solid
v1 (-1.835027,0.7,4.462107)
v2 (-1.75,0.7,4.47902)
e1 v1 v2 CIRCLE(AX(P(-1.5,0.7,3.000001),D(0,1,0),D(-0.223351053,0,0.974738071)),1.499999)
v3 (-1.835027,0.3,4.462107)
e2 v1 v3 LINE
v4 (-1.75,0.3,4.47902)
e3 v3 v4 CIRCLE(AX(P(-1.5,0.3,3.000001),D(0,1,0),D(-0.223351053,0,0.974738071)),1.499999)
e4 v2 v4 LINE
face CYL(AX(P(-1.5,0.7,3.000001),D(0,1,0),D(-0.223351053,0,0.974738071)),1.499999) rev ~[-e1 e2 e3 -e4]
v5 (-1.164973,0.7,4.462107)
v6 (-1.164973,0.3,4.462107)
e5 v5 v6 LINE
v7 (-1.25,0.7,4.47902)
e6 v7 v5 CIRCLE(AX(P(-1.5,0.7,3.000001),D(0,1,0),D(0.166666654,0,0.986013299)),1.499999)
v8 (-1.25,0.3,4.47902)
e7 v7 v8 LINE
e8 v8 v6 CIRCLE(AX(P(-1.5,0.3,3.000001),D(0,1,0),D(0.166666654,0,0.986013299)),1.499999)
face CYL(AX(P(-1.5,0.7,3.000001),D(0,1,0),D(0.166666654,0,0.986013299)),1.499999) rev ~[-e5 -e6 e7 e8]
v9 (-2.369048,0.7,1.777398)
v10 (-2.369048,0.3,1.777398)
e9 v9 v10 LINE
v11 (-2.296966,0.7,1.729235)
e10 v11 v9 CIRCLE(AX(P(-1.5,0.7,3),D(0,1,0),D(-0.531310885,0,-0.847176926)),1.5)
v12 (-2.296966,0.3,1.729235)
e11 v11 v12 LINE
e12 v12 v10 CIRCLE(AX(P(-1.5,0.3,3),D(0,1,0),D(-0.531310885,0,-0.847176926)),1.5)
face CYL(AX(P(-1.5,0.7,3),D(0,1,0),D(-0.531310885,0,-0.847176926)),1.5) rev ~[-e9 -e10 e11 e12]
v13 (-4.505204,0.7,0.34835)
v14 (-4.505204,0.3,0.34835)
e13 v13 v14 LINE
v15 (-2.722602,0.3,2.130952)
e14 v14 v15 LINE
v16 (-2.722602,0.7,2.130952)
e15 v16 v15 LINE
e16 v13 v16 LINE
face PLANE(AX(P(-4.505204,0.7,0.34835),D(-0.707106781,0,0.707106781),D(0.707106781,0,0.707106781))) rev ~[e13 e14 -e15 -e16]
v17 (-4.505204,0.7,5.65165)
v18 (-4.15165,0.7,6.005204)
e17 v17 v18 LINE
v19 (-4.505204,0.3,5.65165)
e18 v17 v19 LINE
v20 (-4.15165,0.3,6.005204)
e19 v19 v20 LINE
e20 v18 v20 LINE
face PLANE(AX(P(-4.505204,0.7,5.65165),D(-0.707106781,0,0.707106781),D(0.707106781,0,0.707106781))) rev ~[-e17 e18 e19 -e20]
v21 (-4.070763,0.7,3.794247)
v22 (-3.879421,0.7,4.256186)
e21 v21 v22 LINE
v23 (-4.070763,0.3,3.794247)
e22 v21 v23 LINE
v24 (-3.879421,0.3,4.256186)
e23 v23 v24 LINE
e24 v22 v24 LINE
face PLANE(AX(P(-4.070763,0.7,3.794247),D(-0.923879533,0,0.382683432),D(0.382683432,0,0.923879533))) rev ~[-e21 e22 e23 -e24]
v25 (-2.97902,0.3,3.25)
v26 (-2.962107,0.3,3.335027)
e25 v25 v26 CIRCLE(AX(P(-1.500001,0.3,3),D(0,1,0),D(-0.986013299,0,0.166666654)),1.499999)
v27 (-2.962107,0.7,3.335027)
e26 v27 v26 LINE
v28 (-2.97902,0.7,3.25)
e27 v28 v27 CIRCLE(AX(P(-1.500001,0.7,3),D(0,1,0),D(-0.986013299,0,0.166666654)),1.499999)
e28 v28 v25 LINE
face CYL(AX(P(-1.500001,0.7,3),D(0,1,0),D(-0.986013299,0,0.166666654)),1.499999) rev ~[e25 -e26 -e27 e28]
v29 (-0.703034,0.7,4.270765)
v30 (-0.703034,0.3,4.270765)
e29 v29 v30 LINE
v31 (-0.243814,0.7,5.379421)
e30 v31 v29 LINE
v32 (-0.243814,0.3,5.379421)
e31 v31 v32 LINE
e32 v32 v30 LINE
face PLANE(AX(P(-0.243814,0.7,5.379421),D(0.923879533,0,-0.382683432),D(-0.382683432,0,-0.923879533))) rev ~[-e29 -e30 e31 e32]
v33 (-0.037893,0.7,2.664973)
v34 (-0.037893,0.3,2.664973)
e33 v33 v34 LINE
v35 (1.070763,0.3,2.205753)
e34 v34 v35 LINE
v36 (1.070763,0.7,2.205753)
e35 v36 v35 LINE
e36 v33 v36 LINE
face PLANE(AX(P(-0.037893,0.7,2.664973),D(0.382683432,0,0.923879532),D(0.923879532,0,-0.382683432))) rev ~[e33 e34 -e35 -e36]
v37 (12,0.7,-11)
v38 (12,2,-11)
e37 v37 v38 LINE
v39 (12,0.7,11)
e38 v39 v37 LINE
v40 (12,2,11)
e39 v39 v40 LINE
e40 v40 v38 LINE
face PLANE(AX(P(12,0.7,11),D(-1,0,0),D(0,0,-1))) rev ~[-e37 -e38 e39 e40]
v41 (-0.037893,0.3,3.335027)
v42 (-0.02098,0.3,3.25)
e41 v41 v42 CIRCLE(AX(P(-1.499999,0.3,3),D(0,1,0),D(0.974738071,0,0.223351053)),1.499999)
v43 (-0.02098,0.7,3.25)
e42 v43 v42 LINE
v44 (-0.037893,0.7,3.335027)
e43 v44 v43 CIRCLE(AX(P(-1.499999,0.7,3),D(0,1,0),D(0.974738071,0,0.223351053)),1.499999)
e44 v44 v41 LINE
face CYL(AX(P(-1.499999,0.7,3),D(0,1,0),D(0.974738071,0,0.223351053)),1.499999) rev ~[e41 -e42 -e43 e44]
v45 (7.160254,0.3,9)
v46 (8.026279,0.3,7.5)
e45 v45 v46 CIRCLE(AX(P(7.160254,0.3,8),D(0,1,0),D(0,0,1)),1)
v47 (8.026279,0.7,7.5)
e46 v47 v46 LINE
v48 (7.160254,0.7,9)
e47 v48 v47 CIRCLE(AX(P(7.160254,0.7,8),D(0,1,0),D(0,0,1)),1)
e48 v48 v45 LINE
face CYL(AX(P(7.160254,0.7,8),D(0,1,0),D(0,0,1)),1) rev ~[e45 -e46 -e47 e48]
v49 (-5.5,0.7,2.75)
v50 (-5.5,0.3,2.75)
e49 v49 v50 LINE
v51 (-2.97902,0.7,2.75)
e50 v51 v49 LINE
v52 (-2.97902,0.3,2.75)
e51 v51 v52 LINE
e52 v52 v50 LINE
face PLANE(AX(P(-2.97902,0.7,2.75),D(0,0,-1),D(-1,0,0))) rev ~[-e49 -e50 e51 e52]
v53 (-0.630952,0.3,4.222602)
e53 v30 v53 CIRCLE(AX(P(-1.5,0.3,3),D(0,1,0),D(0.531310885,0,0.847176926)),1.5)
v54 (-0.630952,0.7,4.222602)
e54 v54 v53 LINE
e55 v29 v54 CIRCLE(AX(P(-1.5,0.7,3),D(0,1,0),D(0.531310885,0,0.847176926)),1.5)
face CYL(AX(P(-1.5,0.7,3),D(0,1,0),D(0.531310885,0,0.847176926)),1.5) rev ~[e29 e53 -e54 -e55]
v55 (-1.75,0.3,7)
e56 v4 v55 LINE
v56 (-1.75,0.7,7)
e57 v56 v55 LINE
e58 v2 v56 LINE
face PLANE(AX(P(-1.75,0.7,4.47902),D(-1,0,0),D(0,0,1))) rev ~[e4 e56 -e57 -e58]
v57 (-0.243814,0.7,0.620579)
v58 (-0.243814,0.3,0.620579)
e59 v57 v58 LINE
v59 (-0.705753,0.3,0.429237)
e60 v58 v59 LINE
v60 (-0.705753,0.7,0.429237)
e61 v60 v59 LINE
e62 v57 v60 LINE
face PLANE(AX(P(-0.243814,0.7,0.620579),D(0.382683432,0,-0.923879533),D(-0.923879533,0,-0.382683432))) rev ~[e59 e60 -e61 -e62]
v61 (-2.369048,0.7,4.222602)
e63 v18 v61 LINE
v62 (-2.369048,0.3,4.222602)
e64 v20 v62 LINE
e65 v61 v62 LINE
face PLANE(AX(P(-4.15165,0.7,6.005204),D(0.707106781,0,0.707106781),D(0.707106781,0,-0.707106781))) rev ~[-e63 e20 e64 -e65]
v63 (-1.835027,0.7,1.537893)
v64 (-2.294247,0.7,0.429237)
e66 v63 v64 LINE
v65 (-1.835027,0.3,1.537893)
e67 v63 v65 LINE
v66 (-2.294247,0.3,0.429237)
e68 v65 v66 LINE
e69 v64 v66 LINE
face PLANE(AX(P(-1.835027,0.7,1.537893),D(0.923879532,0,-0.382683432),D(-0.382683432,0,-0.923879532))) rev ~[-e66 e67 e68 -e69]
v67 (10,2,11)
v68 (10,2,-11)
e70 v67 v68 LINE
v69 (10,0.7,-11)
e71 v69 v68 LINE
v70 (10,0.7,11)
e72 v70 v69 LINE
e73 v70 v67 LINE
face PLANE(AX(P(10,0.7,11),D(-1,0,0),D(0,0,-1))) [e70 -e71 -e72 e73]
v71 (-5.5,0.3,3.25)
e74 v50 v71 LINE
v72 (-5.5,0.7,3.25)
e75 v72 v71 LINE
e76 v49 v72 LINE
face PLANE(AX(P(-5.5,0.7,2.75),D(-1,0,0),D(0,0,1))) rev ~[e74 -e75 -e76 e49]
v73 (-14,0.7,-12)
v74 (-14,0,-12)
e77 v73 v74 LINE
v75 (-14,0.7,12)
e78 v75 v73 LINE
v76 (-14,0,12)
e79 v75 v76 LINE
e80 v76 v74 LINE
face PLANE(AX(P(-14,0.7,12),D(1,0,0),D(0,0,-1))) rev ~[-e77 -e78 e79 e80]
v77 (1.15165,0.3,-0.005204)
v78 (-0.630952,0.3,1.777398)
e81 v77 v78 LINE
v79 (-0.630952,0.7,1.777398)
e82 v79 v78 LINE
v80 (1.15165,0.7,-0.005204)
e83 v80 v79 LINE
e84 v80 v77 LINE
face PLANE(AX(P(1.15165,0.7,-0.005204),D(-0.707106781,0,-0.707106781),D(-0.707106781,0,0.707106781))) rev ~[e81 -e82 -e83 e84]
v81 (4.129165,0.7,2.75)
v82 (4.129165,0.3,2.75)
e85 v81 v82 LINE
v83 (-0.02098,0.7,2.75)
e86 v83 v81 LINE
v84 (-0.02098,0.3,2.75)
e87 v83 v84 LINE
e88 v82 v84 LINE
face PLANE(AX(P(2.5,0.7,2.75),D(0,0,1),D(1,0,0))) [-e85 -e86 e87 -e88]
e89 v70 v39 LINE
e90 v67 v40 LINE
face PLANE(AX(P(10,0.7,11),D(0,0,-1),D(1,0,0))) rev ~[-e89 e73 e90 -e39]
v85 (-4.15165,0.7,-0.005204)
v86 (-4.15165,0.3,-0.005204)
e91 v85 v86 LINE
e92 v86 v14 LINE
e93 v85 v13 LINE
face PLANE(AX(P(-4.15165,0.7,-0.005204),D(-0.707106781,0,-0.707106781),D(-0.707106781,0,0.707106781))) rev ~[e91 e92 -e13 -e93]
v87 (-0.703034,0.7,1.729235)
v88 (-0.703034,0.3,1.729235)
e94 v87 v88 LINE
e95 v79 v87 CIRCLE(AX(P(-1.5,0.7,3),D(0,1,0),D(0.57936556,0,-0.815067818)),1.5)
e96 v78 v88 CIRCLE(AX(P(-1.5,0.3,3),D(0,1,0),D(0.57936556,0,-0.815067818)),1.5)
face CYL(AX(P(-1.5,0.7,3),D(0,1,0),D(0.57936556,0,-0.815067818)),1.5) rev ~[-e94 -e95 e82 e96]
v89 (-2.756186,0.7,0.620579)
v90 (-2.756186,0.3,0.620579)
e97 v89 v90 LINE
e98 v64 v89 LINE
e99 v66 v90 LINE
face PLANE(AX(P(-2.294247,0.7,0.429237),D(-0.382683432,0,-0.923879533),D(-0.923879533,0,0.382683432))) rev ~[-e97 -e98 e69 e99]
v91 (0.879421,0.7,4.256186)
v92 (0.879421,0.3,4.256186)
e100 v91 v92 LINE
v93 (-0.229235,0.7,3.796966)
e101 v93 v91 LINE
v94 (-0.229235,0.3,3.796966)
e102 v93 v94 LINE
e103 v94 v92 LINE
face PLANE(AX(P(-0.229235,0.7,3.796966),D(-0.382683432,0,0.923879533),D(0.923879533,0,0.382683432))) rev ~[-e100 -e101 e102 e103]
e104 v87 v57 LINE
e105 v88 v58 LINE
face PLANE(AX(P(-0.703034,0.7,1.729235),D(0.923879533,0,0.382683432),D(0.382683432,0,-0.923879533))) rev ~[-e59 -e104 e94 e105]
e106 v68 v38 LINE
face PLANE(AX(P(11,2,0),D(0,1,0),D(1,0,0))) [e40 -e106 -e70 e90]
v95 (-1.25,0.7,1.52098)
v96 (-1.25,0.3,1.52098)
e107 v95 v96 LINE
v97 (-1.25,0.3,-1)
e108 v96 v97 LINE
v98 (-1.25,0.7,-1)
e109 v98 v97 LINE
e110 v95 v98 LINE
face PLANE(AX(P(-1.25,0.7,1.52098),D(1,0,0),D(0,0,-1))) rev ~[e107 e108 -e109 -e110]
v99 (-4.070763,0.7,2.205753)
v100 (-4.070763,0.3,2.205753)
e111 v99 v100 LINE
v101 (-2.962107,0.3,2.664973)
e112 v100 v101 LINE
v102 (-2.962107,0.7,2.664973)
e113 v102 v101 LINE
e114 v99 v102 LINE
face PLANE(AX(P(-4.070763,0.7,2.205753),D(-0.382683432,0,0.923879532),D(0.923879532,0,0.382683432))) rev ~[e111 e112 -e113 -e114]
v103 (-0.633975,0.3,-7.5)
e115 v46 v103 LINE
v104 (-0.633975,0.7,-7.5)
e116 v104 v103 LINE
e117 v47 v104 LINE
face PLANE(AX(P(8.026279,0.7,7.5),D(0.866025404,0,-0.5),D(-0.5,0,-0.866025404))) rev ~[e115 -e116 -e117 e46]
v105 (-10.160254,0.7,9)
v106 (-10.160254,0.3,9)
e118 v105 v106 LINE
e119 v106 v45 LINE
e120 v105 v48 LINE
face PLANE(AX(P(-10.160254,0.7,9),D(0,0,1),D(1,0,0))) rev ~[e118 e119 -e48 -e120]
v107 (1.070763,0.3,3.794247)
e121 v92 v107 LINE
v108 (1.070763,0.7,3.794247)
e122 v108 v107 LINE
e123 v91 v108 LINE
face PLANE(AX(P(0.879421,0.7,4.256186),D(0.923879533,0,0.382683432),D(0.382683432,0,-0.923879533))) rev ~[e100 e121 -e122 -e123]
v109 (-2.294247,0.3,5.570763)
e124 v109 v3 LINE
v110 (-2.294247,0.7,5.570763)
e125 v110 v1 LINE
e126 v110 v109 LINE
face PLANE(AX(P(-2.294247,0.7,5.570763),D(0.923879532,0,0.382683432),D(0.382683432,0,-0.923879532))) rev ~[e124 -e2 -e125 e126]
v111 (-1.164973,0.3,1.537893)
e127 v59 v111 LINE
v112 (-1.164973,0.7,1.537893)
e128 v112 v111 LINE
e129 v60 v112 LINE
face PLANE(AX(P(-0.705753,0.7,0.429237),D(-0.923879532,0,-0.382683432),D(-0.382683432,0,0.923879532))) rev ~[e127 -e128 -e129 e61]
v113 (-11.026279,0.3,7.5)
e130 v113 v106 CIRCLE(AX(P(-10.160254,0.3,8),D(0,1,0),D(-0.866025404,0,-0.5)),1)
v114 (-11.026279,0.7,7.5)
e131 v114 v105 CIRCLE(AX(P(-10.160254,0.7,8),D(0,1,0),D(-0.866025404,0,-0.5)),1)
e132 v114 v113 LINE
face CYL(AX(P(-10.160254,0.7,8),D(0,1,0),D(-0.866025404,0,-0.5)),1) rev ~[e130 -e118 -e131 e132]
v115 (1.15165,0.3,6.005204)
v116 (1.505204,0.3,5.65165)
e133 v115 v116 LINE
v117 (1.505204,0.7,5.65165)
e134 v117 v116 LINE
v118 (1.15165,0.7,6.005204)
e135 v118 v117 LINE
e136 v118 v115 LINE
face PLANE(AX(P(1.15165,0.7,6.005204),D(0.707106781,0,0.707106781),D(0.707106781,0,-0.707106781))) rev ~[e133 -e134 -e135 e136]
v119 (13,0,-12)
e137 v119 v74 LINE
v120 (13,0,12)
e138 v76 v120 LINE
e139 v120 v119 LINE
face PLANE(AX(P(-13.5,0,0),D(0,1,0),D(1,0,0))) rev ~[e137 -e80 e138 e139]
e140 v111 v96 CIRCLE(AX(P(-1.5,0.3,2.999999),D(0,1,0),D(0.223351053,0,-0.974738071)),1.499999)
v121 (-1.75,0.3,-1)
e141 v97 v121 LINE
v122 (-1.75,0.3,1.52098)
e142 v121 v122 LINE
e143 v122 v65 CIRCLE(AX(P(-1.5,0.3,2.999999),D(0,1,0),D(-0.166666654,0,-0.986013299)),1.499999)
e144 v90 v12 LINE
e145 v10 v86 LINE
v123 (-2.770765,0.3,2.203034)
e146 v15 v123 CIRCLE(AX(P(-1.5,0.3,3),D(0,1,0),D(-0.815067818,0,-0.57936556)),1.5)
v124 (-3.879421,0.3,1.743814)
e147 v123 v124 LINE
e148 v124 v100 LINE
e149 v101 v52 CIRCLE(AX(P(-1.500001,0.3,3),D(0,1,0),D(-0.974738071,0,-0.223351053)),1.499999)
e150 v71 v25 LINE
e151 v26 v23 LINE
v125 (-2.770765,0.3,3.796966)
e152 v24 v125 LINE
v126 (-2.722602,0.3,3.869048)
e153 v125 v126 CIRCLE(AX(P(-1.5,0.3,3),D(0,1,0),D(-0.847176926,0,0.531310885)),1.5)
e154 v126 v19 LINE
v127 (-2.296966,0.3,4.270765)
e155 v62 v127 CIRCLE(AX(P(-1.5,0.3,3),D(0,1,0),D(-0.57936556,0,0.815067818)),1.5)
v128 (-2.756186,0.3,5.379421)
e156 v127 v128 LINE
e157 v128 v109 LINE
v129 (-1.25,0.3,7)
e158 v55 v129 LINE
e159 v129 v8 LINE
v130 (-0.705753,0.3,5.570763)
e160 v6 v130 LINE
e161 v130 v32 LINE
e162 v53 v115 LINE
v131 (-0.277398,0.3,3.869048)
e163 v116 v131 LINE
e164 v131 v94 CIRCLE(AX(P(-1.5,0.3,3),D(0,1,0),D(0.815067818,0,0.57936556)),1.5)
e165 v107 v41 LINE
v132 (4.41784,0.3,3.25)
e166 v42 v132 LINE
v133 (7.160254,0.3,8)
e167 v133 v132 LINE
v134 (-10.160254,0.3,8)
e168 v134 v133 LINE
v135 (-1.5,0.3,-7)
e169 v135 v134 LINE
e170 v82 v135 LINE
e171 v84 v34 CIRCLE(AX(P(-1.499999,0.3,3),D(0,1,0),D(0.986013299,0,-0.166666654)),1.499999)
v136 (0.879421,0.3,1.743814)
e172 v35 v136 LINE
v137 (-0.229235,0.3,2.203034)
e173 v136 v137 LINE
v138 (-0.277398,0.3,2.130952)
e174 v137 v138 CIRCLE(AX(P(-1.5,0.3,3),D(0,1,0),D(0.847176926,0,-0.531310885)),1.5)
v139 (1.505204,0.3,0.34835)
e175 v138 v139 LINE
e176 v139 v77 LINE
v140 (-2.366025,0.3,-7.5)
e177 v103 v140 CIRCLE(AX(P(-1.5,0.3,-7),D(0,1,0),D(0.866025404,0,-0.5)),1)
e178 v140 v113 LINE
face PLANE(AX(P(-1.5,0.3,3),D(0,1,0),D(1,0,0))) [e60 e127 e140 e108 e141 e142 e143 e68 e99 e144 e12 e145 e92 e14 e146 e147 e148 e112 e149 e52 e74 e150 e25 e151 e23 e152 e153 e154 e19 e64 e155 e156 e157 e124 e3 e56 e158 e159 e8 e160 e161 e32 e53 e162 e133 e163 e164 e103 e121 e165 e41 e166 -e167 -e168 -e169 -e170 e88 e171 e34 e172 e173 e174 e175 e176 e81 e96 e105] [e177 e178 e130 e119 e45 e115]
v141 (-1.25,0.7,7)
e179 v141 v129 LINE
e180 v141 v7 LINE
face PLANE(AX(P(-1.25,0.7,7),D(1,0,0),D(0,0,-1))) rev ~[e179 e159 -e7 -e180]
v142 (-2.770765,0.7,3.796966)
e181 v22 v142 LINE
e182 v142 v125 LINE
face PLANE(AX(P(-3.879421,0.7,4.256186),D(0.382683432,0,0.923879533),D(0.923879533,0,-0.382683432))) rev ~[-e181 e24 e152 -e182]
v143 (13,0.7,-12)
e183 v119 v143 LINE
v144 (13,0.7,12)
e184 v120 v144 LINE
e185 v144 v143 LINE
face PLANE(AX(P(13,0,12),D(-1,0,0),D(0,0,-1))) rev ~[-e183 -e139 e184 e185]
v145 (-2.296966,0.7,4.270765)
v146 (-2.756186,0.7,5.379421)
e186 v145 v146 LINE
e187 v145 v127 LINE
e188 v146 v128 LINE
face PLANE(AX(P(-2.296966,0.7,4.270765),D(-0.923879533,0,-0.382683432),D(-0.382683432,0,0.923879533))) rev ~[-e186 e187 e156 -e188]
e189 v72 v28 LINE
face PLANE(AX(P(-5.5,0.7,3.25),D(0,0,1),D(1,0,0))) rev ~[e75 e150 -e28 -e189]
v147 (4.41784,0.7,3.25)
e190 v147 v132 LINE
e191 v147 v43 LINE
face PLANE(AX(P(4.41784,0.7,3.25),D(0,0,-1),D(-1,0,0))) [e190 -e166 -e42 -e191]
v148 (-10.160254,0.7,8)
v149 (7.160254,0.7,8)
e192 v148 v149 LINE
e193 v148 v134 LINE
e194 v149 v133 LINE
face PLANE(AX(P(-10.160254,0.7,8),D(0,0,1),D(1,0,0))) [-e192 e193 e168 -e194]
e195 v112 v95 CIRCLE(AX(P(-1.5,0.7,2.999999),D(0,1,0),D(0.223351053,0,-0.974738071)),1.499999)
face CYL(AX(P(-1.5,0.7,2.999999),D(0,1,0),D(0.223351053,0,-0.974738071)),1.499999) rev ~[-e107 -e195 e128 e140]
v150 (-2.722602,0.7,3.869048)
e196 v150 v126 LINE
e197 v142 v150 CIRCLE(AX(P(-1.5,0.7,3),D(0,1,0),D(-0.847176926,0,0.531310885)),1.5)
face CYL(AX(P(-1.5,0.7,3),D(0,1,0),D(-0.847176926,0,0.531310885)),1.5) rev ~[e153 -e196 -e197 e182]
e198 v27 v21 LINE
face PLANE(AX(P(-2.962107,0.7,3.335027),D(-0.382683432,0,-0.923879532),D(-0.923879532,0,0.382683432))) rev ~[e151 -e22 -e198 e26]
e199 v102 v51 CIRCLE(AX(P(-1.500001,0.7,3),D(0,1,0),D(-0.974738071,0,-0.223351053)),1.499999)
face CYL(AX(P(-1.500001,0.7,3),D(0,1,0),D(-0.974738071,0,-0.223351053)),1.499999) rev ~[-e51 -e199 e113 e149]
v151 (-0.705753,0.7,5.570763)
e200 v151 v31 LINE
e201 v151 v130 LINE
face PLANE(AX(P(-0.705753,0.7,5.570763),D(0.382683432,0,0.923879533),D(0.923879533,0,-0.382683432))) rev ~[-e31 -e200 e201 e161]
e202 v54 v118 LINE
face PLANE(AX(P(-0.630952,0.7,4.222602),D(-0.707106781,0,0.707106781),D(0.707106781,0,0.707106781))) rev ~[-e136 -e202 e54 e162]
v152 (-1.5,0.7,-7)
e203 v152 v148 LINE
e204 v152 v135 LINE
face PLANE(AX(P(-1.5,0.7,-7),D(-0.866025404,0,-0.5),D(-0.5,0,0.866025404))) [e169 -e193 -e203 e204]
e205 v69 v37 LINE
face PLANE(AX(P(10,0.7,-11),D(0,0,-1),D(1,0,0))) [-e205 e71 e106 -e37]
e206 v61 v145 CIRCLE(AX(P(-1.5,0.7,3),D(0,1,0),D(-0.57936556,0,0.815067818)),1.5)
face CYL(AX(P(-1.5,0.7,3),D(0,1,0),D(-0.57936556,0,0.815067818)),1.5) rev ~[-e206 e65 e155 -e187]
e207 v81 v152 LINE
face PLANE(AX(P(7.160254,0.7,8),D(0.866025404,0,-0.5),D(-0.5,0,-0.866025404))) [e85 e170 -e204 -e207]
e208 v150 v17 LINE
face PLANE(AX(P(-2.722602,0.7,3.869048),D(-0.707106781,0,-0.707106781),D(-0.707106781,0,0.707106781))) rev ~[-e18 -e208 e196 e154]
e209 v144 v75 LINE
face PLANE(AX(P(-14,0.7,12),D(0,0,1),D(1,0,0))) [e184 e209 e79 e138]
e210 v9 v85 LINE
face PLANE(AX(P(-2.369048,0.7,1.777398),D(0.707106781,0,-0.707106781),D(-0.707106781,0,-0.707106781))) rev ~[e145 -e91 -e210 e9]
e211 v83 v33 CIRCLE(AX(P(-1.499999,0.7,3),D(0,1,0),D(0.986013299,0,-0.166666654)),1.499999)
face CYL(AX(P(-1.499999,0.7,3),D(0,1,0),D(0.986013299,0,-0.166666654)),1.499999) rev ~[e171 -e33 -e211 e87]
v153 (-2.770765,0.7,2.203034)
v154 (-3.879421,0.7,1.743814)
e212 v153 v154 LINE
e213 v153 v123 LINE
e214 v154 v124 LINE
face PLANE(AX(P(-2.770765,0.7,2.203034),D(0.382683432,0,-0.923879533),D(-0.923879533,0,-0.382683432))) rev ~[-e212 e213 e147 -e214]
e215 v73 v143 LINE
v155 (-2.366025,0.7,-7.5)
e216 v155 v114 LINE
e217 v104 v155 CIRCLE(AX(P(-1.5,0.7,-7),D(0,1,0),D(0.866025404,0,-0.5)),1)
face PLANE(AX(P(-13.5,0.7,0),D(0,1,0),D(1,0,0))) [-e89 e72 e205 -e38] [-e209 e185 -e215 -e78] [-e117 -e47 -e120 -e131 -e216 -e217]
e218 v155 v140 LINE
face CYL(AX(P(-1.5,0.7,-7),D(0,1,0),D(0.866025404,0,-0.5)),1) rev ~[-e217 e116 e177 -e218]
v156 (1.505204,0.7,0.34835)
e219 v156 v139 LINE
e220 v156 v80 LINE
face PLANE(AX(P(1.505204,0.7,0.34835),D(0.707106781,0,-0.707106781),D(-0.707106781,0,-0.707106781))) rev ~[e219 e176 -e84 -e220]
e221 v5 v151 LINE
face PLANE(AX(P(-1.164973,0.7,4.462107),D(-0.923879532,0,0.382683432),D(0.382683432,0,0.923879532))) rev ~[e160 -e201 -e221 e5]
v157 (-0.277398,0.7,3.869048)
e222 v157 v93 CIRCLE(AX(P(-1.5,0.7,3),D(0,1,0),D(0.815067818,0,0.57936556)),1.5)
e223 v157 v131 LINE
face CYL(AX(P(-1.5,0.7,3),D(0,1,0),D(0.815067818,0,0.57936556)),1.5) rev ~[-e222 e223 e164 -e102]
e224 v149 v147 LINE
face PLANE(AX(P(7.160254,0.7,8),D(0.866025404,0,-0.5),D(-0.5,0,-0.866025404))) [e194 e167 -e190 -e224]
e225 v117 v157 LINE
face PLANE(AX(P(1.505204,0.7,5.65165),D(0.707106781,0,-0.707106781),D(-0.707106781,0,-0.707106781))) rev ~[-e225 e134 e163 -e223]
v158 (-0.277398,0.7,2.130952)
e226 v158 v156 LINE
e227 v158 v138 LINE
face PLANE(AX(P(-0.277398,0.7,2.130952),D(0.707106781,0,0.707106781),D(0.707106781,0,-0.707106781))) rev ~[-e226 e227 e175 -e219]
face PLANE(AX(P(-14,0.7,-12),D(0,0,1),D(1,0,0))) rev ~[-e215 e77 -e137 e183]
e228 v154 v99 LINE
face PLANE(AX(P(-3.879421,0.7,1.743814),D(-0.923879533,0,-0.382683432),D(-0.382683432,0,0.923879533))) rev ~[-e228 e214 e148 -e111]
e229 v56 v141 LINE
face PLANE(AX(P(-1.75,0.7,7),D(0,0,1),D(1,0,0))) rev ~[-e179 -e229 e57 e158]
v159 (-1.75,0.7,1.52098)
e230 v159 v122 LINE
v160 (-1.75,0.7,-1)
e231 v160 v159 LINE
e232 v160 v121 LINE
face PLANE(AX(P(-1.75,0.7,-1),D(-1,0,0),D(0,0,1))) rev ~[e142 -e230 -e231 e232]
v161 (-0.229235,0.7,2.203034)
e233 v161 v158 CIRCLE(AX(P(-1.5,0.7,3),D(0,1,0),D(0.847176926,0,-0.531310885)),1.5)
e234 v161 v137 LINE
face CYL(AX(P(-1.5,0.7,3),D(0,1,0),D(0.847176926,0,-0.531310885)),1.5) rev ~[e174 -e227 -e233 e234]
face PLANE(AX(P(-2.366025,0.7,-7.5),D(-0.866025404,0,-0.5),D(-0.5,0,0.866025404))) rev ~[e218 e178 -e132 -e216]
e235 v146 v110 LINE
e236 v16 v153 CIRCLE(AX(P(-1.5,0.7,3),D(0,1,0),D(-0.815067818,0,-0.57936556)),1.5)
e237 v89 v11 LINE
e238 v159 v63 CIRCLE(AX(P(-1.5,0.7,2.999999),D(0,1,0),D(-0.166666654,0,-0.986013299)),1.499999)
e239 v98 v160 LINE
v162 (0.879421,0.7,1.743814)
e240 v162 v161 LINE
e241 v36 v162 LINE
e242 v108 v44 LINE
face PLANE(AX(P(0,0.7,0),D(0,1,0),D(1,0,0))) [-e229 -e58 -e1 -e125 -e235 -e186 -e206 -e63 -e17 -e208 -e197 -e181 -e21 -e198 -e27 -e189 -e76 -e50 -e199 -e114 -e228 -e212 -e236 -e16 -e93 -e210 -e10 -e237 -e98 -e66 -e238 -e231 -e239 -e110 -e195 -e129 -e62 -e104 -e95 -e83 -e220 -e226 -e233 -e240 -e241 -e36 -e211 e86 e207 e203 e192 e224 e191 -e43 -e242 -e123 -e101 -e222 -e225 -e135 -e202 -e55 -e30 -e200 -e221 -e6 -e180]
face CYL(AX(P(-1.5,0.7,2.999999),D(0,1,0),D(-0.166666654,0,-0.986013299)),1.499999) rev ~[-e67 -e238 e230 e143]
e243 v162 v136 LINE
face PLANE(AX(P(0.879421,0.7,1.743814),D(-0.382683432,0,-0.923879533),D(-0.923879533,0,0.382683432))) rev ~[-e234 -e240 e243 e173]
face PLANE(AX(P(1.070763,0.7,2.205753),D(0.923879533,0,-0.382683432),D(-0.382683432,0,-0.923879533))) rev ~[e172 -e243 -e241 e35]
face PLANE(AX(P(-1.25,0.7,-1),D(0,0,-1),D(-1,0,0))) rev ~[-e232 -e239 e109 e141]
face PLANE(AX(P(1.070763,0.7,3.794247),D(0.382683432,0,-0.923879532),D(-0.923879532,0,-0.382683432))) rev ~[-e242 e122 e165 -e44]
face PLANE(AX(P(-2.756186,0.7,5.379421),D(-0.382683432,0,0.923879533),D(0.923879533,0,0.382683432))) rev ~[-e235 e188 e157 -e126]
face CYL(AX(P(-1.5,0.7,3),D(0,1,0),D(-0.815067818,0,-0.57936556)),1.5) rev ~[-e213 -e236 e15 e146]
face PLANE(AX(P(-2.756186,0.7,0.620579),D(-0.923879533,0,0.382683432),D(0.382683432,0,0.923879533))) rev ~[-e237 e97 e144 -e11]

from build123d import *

# Parameters (mm, degrees)
SKETCH1_W           = 26
SKETCH1_H           = 24
BOSS_EXTRUDE1_DEPTH = 0.7
SKETCH2_W           = 2
SKETCH2_H           = 22
BOSS_EXTRUDE2_DEPTH = 1.3
CUT_EXTRUDE2_DEPTH  = 0.4
CUT_EXTRUDE3_DEPTH  = 0.4
SKETCH4_W           = 1
SKETCH4_H           = 24
BOSS_EXTRUDE3_DEPTH = 0.7
CUT_EXTRUDE4_DEPTH  = 0.4


with BuildPart() as part:
    # Sketch1 → Boss-Extrude1 (new body)
    with BuildSketch(Plane(origin=(0, 0, 0), x_dir=(1, 0, 0), z_dir=(0, 1, 0))):
        Rectangle(SKETCH1_W, SKETCH1_H)
    extrude(amount=BOSS_EXTRUDE1_DEPTH)

    # Sketch2 → Boss-Extrude2 (add)
    with BuildSketch(Plane(origin=(0, 0.7, 0), x_dir=(1, 0, 0), z_dir=(0, 1, 0))):
        with Locations((11, 0)):
            Rectangle(SKETCH2_W, SKETCH2_H)
    extrude(amount=BOSS_EXTRUDE2_DEPTH)

    # Sketch3 → Cut-Extrude2 (cut)
    with BuildSketch(Plane(origin=(0, 0.7, 0), x_dir=(1, 0, 0), z_dir=(0, 1, 0))):
        with BuildLine():
            Line((-2.366025404, 7.5), (-11.026279442, -7.5))
            ThreePointArc((-11.026279442, -7.5), (-11.026279442, -8.5), (-10.160254038, -9))
            Line((-10.160254038, -9), (7.160254038, -9))
            ThreePointArc((7.160254038, -9), (8.026279442, -8.5), (8.026279442, -7.5))
            Line((8.026279442, -7.5), (-0.633974596, 7.5))
            ThreePointArc((-0.633974596, 7.5), (-1.5, 8), (-2.366025404, 7.5))
        make_face()
        Polygon((7.160254038, -8), (-1.5, 7), (-10.160254038, -8), align=None, mode=Mode.SUBTRACT)
    extrude(amount=-CUT_EXTRUDE2_DEPTH, mode=Mode.SUBTRACT)

    # Sketch5 → Cut-Extrude3 (cut)
    with BuildSketch(Plane(origin=(0, 0.7, 0), x_dir=(1, 0, 0), z_dir=(0, 1, 0))):
        with BuildLine():
            Line((-4.151650429, -6.00520382), (-2.369048338, -4.222601728))
            ThreePointArc((-2.369048338, -4.222601728), (-2.33335535, -4.247204418), (-2.296966313, -4.270765398))
            Line((-2.296966313, -4.270765398), (-2.756186431, -5.379420837))
            Line((-2.756186431, -5.379420837), (-2.294246665, -5.570762553))
            Line((-2.294246665, -5.570762553), (-1.835026546, -4.462107114))
            ThreePointArc((-1.835026546, -4.462107114), (-1.792635483, -4.471177921), (-1.75, -4.479019946))
            Line((-1.75, -4.479019946), (-1.75, -7))
            Line((-1.75, -7), (-1.25, -7))
            Line((-1.25, -7), (-1.25, -4.479019946))
            ThreePointArc((-1.25, -4.479019946), (-1.207364517, -4.471177921), (-1.164973454, -4.462107114))
            Line((-1.164973454, -4.462107114), (-0.705753335, -5.570762553))
            Line((-0.705753335, -5.570762553), (-0.243813569, -5.379420837))
            Line((-0.243813569, -5.379420837), (-0.703033687, -4.270765398))
            ThreePointArc((-0.703033687, -4.270765398), (-0.66664465, -4.247204418), (-0.630951662, -4.222601728))
            Line((-0.630951662, -4.222601728), (1.151650429, -6.00520382))
            Line((1.151650429, -6.00520382), (1.50520382, -5.651650429))
            Line((1.50520382, -5.651650429), (-0.277398272, -3.869048338))
            ThreePointArc((-0.277398272, -3.869048338), (-0.252795582, -3.83335535), (-0.229234602, -3.796966313))
            Line((-0.229234602, -3.796966313), (0.879420837, -4.256186431))
            Line((0.879420837, -4.256186431), (1.070762553, -3.794246665))
            Line((1.070762553, -3.794246665), (-0.037892886, -3.335026546))
            ThreePointArc((-0.037892886, -3.335026546), (-0.028822079, -3.292635483), (-0.020980054, -3.25))
            Line((-0.020980054, -3.25), (2.5, -3.25))
            Line((2.5, -3.25), (2.5, -2.75))
            Line((2.5, -2.75), (-0.020980054, -2.75))
            ThreePointArc((-0.020980054, -2.75), (-0.028822079, -2.707364517), (-0.037892886, -2.664973454))
            Line((-0.037892886, -2.664973454), (1.070762553, -2.205753335))
            Line((1.070762553, -2.205753335), (0.879420837, -1.743813569))
            Line((0.879420837, -1.743813569), (-0.229234602, -2.203033687))
            ThreePointArc((-0.229234602, -2.203033687), (-0.252795582, -2.16664465), (-0.277398272, -2.130951662))
            Line((-0.277398272, -2.130951662), (1.50520382, -0.348349571))
            Line((1.50520382, -0.348349571), (1.151650429, 0.00520382))
            Line((1.151650429, 0.00520382), (-0.630951662, -1.777398272))
            ThreePointArc((-0.630951662, -1.777398272), (-0.66664465, -1.752795582), (-0.703033687, -1.729234602))
            Line((-0.703033687, -1.729234602), (-0.243813569, -0.620579163))
            Line((-0.243813569, -0.620579163), (-0.705753335, -0.429237447))
            Line((-0.705753335, -0.429237447), (-1.164973454, -1.537892886))
            ThreePointArc((-1.164973454, -1.537892886), (-1.207364517, -1.528822079), (-1.25, -1.520980054))
            Line((-1.25, -1.520980054), (-1.25, 1))
            Line((-1.25, 1), (-1.75, 1))
            Line((-1.75, 1), (-1.75, -1.520980054))
            ThreePointArc((-1.75, -1.520980054), (-1.792635483, -1.528822079), (-1.835026546, -1.537892886))
            Line((-1.835026546, -1.537892886), (-2.294246665, -0.429237447))
            Line((-2.294246665, -0.429237447), (-2.756186431, -0.620579163))
            Line((-2.756186431, -0.620579163), (-2.296966313, -1.729234602))
            ThreePointArc((-2.296966313, -1.729234602), (-2.33335535, -1.752795582), (-2.369048338, -1.777398272))
            Line((-2.369048338, -1.777398272), (-4.151650429, 0.00520382))
            Line((-4.151650429, 0.00520382), (-4.50520382, -0.348349571))
            Line((-4.50520382, -0.348349571), (-2.722601728, -2.130951662))
            ThreePointArc((-2.722601728, -2.130951662), (-2.747204418, -2.16664465), (-2.770765398, -2.203033687))
            Line((-2.770765398, -2.203033687), (-3.879420837, -1.743813569))
            Line((-3.879420837, -1.743813569), (-4.070762553, -2.205753335))
            Line((-4.070762553, -2.205753335), (-2.962107114, -2.664973454))
            ThreePointArc((-2.962107114, -2.664973454), (-2.971177921, -2.707364517), (-2.979019946, -2.75))
            Line((-2.979019946, -2.75), (-5.5, -2.75))
            Line((-5.5, -2.75), (-5.5, -3.25))
            Line((-5.5, -3.25), (-2.979019946, -3.25))
            ThreePointArc((-2.979019946, -3.25), (-2.971177921, -3.292635483), (-2.962107114, -3.335026546))
            Line((-2.962107114, -3.335026546), (-4.070762553, -3.794246665))
            Line((-4.070762553, -3.794246665), (-3.879420837, -4.256186431))
            Line((-3.879420837, -4.256186431), (-2.770765398, -3.796966313))
            ThreePointArc((-2.770765398, -3.796966313), (-2.747204418, -3.83335535), (-2.722601728, -3.869048338))
            Line((-2.722601728, -3.869048338), (-4.50520382, -5.651650429))
            Line((-4.50520382, -5.651650429), (-4.151650429, -6.00520382))
        make_face()
    extrude(amount=-CUT_EXTRUDE3_DEPTH, mode=Mode.SUBTRACT)

    # Sketch4 → Boss-Extrude3 (add)
    with BuildSketch(Plane(origin=(0, 0.7, 0), x_dir=(1, 0, 0), z_dir=(0, 1, 0))):
        with Locations((-13.5, 0)):
            Rectangle(SKETCH4_W, SKETCH4_H)
    extrude(amount=-BOSS_EXTRUDE3_DEPTH)

    # Sketch6 → Cut-Extrude4 (cut)
    with BuildSketch(Plane(origin=(0, 0.7, 0), x_dir=(1, 0, 0), z_dir=(0, 1, 0))):
        Polygon((2.5, -2.75), (4.129165125, -2.75), (4.417840259, -3.25), (2.5, -3.25), align=None)
    extrude(amount=-CUT_EXTRUDE4_DEPTH, mode=Mode.SUBTRACT)


solid = part.part
